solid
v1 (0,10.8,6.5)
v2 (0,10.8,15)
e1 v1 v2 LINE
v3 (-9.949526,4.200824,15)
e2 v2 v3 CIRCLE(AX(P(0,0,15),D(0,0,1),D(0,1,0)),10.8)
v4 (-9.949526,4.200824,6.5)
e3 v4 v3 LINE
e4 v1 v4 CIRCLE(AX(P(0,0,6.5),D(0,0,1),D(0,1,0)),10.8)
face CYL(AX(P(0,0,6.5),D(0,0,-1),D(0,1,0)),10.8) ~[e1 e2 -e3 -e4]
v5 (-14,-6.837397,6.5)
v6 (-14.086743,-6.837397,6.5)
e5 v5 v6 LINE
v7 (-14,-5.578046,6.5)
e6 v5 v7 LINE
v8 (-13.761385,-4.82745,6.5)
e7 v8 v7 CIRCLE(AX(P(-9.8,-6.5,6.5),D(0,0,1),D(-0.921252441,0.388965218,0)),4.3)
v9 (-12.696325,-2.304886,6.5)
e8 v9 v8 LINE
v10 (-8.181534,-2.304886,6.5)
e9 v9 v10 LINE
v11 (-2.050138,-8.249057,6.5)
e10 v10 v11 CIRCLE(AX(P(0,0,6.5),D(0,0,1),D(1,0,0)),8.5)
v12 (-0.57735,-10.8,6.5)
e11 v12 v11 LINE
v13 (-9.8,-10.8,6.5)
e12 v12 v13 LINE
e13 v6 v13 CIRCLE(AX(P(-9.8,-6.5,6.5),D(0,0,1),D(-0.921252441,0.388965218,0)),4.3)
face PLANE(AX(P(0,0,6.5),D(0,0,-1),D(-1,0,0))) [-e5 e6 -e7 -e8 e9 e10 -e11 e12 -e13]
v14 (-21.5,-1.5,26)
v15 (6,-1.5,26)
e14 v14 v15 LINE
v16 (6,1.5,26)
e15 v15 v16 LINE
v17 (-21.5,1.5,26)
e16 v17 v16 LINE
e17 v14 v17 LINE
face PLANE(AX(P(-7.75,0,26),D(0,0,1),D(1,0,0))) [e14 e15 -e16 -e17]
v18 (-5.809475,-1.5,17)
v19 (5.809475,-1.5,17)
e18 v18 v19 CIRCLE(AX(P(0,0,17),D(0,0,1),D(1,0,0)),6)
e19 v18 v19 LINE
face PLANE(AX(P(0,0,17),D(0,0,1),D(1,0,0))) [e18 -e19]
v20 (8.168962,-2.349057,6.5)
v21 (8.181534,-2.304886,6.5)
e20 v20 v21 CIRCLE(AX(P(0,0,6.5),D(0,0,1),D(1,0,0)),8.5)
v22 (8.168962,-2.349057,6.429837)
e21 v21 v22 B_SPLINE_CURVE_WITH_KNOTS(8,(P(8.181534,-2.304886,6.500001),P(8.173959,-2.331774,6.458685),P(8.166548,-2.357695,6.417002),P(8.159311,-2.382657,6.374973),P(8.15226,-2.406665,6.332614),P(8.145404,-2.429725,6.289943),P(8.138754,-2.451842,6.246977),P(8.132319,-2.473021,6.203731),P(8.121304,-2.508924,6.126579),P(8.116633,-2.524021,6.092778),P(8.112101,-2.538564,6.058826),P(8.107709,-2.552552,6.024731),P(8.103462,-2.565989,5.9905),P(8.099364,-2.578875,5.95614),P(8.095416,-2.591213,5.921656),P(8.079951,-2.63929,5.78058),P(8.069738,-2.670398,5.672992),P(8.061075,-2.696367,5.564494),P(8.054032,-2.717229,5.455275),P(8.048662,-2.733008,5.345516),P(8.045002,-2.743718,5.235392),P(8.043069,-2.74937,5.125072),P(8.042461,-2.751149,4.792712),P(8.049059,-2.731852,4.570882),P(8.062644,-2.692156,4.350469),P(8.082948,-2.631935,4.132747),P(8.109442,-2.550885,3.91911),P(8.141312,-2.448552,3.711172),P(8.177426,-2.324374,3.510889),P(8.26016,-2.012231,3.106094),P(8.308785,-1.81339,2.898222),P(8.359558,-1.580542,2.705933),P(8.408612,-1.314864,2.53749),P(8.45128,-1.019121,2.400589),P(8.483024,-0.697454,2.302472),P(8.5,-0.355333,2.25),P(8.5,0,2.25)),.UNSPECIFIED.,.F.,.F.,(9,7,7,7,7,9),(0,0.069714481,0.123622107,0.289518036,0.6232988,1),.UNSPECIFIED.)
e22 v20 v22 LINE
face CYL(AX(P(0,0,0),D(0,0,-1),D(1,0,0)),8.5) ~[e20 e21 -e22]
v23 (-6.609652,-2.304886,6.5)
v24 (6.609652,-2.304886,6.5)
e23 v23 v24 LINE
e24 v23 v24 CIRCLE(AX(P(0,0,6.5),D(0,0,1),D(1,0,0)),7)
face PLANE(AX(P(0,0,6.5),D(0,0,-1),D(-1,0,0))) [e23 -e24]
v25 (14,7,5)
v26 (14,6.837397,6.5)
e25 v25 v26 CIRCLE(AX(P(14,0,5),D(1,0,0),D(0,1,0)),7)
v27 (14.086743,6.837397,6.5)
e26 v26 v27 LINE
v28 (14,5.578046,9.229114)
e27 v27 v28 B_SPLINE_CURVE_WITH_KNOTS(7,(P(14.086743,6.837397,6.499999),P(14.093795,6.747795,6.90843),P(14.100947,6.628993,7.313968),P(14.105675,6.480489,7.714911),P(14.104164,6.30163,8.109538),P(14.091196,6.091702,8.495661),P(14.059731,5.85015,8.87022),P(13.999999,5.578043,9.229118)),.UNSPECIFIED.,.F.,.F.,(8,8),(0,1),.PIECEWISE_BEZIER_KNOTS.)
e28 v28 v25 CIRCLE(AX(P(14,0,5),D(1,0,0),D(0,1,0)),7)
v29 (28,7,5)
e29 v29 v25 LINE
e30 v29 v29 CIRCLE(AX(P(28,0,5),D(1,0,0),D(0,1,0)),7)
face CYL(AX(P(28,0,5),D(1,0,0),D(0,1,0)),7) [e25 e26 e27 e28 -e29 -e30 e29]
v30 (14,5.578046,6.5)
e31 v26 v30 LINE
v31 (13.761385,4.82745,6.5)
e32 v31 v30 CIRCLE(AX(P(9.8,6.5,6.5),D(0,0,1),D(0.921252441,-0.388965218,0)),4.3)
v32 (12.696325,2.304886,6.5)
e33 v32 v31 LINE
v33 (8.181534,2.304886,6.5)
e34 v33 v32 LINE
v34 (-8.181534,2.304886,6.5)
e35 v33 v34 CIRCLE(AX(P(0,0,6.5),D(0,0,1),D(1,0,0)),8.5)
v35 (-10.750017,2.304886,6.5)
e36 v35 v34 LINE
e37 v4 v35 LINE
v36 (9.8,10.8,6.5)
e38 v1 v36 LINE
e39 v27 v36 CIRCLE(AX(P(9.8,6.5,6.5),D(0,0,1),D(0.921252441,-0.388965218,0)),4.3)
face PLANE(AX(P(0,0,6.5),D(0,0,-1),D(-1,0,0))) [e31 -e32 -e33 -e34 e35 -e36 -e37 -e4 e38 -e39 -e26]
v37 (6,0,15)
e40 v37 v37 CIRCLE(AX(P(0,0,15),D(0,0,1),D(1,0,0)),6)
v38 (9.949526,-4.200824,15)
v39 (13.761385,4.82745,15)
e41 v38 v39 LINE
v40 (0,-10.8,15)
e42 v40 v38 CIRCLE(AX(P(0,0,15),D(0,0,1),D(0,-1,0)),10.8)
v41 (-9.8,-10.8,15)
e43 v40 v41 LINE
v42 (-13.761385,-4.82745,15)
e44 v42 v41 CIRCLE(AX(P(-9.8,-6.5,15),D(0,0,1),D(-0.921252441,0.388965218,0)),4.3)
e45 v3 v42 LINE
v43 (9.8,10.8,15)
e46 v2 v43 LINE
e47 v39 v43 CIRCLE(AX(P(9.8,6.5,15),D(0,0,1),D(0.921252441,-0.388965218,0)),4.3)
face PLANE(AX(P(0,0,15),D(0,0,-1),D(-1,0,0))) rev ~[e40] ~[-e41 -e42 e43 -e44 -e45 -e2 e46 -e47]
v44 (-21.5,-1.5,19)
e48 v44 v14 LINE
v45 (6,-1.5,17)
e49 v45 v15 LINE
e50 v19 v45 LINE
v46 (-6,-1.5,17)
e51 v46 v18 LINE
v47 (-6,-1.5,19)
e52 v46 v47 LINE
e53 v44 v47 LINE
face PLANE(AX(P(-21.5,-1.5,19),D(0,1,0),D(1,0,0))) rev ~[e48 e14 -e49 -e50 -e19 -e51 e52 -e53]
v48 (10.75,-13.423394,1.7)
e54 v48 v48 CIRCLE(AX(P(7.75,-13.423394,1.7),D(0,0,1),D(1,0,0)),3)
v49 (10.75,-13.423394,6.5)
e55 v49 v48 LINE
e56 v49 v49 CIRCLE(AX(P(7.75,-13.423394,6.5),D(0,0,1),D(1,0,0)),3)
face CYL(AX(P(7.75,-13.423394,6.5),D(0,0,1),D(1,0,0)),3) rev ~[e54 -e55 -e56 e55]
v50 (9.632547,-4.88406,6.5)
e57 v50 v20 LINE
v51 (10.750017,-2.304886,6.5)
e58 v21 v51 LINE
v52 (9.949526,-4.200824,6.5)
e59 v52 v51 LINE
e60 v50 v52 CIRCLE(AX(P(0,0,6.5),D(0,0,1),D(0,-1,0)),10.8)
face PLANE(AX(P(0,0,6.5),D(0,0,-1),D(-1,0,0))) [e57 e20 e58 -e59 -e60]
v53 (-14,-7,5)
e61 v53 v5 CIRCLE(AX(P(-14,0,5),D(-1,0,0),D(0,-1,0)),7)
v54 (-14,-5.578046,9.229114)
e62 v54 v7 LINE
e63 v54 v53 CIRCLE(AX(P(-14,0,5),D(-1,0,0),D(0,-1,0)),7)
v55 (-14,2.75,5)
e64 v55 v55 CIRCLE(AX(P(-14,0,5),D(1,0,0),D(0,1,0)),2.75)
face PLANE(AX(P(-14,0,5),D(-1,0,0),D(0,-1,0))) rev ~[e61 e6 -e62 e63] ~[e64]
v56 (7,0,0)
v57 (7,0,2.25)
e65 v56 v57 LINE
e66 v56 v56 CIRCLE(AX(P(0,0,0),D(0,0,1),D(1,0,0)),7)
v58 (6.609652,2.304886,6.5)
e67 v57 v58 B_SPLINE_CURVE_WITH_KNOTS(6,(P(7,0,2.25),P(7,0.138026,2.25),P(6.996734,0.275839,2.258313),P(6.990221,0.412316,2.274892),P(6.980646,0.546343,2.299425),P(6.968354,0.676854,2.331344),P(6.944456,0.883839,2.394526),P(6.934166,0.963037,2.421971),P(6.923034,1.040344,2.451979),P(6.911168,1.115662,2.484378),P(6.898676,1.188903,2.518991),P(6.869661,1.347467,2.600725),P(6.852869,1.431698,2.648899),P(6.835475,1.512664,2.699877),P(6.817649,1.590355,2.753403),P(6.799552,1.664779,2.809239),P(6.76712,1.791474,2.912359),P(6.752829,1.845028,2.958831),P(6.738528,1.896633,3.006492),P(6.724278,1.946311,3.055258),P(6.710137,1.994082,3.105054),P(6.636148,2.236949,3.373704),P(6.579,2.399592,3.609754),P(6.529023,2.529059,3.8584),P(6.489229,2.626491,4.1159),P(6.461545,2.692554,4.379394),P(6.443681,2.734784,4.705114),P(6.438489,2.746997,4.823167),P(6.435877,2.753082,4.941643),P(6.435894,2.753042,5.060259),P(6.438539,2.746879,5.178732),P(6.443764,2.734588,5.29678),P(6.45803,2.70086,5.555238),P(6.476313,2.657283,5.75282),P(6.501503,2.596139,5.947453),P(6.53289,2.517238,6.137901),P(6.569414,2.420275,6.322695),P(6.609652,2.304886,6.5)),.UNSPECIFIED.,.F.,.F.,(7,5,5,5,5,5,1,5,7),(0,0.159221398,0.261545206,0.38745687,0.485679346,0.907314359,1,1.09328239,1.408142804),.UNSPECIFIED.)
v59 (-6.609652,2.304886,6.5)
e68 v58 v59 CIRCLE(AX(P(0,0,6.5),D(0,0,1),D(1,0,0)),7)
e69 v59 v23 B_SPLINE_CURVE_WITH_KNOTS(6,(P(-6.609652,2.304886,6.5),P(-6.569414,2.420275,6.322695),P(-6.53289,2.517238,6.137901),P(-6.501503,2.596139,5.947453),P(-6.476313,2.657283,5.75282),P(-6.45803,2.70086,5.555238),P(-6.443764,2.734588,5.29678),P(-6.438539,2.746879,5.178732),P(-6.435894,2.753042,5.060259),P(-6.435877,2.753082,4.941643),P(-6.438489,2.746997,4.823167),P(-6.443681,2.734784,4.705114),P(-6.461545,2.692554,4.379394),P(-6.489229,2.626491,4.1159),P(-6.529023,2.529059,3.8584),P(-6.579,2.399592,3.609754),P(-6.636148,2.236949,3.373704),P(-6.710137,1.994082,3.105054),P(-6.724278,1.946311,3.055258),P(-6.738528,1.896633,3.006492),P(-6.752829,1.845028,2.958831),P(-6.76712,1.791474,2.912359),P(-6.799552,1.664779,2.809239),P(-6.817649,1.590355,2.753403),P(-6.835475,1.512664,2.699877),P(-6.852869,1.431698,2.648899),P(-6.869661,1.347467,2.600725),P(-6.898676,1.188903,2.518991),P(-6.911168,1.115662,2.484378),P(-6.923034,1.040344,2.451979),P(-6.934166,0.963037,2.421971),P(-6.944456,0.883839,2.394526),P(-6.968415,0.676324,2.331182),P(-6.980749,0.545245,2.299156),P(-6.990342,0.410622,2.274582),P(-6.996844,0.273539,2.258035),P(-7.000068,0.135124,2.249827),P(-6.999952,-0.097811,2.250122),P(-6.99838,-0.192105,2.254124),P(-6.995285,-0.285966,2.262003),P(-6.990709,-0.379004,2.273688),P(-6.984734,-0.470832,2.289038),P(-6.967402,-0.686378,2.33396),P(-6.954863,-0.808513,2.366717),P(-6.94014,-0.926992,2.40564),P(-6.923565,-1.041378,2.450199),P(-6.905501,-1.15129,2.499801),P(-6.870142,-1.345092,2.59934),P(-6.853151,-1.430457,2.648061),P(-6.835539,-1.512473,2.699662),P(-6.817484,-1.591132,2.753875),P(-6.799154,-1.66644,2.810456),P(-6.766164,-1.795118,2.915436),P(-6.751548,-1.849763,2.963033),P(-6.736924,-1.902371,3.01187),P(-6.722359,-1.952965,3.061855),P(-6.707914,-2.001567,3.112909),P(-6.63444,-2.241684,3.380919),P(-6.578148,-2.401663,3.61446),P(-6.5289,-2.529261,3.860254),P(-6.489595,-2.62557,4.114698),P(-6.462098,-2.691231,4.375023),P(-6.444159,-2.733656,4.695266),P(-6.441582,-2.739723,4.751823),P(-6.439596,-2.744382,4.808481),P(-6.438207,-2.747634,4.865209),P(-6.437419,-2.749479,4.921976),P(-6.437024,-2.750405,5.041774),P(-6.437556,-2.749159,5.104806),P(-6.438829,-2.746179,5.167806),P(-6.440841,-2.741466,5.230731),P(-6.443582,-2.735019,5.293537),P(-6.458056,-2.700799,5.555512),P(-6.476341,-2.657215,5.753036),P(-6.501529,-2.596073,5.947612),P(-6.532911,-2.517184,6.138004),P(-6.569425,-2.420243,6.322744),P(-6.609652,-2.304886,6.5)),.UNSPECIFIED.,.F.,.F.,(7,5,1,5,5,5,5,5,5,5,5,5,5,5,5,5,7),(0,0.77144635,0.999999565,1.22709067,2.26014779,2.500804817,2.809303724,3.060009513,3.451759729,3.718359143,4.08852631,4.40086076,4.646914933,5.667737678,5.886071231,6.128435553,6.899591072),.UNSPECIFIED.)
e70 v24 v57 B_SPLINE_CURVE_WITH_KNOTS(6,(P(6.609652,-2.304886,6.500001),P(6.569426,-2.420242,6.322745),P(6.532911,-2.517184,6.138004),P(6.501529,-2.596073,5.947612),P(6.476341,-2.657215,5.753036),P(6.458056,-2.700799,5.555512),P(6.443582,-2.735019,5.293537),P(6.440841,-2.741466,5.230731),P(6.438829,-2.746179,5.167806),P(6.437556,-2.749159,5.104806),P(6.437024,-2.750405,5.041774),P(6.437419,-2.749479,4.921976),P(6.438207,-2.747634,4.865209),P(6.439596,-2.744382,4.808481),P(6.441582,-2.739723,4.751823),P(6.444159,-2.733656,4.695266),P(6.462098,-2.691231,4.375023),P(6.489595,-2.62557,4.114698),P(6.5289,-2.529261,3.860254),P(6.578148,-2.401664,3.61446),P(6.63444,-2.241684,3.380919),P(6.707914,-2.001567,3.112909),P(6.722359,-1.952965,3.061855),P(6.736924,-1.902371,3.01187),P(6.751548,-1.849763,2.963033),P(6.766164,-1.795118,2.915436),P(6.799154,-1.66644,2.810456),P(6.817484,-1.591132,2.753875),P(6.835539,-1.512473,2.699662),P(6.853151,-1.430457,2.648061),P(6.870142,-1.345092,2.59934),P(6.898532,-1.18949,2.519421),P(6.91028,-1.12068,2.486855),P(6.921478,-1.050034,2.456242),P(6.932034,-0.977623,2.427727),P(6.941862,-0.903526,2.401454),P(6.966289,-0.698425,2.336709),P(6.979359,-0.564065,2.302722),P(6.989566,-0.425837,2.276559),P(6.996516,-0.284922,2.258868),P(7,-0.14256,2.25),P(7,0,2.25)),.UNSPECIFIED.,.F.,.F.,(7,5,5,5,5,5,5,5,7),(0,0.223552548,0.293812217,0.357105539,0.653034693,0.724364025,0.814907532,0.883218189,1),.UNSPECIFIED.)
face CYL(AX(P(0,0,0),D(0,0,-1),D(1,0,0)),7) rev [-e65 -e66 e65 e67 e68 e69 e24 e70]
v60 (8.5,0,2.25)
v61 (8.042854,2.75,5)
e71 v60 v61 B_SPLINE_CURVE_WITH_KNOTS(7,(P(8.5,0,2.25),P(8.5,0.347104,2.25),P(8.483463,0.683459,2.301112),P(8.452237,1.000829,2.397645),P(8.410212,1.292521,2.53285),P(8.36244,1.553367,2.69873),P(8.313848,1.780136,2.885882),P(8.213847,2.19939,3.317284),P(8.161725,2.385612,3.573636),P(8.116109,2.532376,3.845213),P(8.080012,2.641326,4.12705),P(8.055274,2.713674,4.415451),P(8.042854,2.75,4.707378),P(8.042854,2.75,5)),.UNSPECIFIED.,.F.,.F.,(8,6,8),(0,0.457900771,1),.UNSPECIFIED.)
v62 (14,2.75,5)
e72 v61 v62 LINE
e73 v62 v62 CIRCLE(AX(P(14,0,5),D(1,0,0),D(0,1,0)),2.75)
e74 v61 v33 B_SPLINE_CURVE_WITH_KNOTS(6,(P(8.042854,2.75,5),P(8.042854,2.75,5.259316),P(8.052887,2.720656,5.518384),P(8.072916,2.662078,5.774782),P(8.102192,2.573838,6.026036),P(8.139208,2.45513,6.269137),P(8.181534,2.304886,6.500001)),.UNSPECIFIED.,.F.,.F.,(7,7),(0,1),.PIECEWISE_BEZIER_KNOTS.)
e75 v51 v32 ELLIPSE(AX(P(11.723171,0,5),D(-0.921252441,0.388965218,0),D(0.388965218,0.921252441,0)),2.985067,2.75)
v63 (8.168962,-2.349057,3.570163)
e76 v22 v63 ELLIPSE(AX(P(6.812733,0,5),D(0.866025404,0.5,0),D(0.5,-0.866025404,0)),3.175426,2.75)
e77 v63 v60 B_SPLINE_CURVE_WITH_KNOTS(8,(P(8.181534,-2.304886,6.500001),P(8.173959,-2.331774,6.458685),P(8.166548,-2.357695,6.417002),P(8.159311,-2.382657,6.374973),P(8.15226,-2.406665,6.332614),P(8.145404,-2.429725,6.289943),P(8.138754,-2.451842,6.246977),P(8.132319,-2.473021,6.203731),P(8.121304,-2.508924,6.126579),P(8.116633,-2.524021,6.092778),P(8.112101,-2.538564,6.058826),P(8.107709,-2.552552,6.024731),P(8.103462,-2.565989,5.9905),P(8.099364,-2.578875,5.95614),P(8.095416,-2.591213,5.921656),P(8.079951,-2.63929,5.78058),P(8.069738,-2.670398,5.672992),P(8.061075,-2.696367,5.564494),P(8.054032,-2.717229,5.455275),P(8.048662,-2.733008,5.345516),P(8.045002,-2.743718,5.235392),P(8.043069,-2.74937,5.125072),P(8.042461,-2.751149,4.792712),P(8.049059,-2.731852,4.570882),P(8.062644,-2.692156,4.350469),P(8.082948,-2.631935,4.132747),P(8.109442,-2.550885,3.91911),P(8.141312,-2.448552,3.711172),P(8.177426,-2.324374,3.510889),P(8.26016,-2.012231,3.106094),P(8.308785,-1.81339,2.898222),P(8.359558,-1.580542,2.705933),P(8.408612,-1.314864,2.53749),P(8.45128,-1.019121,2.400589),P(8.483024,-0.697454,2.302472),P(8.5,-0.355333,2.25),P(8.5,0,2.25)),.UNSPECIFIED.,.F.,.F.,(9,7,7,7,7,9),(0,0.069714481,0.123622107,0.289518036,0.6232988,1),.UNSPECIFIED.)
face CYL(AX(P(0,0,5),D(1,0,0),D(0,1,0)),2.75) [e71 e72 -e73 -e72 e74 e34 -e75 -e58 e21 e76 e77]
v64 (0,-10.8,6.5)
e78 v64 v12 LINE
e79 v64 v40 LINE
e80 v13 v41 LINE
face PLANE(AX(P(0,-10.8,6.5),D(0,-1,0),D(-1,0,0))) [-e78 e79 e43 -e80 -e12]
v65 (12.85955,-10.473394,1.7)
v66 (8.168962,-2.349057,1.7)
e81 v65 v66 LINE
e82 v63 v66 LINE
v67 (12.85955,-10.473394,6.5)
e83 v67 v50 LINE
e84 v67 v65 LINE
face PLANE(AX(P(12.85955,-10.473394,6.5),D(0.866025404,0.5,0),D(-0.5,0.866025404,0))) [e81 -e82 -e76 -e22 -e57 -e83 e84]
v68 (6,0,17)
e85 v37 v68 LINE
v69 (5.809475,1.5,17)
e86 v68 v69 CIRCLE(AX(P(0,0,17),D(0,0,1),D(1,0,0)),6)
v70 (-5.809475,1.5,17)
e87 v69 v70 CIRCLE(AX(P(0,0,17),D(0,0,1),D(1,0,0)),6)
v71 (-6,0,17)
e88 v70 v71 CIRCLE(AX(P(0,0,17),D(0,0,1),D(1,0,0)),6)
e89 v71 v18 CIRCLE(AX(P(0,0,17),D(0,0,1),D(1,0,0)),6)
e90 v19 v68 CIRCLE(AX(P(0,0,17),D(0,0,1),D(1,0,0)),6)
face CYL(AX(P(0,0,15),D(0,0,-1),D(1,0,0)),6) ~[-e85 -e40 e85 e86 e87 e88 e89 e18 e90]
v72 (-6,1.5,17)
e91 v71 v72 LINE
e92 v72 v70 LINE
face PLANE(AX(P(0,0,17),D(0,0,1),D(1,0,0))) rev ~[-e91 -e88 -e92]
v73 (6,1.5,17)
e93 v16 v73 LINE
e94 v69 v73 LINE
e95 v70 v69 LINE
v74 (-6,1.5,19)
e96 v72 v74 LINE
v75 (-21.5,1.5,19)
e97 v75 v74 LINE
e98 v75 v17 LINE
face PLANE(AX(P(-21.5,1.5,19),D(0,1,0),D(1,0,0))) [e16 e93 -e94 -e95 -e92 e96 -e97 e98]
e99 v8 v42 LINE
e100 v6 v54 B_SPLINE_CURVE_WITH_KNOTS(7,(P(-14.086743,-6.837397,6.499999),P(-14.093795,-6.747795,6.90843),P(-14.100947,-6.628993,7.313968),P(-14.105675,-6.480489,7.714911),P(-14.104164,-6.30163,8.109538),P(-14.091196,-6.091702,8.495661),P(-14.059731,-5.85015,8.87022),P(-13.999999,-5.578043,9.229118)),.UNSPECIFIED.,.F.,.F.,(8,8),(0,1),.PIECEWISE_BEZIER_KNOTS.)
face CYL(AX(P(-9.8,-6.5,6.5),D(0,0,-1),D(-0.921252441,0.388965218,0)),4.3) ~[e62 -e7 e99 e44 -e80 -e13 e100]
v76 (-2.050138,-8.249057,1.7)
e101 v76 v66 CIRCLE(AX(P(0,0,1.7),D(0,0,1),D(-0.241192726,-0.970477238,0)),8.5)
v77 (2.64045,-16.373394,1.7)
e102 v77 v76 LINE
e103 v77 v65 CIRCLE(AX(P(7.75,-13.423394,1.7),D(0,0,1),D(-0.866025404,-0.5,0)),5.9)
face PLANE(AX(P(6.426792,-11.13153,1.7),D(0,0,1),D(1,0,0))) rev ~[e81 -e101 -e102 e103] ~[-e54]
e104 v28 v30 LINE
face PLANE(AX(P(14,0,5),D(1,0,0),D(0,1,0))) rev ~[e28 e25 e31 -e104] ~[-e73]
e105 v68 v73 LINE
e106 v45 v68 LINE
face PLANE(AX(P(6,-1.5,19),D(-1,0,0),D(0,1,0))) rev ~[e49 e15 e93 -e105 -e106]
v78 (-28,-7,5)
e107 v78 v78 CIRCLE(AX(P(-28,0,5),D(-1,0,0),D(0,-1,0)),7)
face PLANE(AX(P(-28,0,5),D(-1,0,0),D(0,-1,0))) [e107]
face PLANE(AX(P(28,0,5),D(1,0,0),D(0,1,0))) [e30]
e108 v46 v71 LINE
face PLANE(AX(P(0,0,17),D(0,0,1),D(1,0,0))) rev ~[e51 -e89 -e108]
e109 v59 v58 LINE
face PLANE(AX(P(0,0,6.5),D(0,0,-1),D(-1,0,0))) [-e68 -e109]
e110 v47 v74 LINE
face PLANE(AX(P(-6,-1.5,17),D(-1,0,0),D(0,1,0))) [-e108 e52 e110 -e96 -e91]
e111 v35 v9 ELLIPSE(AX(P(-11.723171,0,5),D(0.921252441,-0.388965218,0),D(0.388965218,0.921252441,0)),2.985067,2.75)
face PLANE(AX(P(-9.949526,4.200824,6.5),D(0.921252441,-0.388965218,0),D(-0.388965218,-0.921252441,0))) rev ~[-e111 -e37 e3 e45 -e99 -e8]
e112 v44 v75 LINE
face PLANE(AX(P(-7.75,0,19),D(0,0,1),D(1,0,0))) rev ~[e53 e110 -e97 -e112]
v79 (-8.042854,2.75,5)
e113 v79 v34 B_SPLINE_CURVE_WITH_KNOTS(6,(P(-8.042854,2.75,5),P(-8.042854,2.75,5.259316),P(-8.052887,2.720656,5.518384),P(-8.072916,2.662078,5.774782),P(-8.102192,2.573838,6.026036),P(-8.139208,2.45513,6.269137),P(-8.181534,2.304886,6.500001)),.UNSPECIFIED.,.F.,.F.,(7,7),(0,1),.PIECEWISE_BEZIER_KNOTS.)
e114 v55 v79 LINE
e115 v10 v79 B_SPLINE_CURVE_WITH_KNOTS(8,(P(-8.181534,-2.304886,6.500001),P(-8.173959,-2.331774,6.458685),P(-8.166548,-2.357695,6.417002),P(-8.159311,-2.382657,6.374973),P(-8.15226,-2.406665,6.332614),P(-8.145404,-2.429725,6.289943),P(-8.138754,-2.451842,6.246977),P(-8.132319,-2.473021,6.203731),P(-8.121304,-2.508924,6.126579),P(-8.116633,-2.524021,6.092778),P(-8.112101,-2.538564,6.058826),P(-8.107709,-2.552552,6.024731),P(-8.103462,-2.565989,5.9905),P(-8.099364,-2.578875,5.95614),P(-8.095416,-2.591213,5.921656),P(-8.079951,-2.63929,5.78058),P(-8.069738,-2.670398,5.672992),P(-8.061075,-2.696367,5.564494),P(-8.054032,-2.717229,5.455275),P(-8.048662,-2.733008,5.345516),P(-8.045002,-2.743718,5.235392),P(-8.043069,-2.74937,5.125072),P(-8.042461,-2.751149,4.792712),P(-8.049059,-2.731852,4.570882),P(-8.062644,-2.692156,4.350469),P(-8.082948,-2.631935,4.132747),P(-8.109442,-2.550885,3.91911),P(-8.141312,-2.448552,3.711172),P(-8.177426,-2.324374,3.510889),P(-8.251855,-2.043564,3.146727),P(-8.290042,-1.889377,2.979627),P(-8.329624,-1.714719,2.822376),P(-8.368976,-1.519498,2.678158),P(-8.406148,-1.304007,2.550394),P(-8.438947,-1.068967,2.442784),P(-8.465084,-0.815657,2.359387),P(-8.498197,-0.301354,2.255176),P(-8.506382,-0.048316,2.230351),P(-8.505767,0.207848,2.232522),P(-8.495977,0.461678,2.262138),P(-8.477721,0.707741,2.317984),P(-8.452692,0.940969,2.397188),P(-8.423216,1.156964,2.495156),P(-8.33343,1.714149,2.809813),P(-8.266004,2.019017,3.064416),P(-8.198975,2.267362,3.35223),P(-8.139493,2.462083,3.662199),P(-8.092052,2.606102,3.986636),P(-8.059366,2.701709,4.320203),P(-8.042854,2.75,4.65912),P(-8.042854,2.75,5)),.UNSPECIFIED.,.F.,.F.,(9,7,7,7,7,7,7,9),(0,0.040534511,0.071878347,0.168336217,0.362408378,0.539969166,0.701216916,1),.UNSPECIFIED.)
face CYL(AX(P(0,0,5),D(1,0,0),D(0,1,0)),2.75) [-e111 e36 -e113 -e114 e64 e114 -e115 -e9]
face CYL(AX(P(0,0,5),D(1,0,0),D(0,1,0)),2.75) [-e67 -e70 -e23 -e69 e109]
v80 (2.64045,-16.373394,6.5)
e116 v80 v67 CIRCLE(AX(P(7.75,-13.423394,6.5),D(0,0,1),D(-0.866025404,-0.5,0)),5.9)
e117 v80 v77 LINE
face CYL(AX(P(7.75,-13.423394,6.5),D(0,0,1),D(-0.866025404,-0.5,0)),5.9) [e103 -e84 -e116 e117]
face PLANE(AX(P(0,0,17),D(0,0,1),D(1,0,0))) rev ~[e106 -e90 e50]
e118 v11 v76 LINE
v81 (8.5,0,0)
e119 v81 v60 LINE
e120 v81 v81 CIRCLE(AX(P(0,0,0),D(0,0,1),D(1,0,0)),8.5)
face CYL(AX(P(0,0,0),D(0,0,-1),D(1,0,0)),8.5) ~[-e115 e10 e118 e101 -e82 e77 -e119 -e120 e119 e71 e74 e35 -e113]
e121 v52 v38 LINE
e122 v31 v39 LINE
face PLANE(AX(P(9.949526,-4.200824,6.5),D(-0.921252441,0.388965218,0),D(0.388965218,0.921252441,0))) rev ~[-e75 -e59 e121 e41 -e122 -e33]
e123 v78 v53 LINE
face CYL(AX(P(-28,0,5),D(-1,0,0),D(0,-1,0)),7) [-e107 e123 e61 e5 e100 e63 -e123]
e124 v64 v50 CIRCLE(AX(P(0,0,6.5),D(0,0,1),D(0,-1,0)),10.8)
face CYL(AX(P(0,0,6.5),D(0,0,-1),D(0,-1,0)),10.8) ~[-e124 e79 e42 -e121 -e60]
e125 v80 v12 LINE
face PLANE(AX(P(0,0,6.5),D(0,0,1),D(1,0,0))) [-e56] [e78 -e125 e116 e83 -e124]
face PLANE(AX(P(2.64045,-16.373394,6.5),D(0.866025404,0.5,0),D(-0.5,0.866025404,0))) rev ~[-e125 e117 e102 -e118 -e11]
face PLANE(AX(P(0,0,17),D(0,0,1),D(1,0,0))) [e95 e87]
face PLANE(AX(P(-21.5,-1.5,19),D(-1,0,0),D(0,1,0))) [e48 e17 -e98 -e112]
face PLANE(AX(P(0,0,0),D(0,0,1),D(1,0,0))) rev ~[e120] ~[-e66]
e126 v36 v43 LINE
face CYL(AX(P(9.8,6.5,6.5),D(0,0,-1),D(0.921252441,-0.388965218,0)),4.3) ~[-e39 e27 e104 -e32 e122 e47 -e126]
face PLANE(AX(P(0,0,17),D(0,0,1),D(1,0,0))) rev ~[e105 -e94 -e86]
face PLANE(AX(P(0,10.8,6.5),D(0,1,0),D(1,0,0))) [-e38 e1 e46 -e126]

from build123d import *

# Parameters (mm, degrees)
SKETCH_R     = 8.5
SKETCH_R_2   = 7
PAD_DEPTH    = 6.5
SKETCH001_R  = 3
PAD001_DEPTH = 4.8
PAD002_DEPTH = 8.5
SKETCH003_R  = 6
PAD003_DEPTH = 2
SKETCH004_W  = 12
SKETCH004_H  = 3
PAD004_DEPTH = 2
SKETCH005_W  = 27.5
SKETCH005_H  = 3
PAD005_DEPTH = 7
SKETCH006_R  = 2.75
PAD006_DEPTH = 28
SKETCH007_R  = 7
PAD007_DEPTH = 14
SKETCH008_R  = 7
PAD008_DEPTH = 14


with BuildPart() as part:
    # Sketch → Pad (new body)
    with BuildSketch(Plane.XY):
        Circle(SKETCH_R)
        Circle(SKETCH_R_2, mode=Mode.SUBTRACT)
    extrude(amount=PAD_DEPTH)

    # Sketch001 (on Face4 of Pad) → Pad001 (join)
    with BuildSketch(Plane.XY.offset(6.5)):
        with BuildLine():
            ThreePointArc((2.6404501177, -16.3733937587), (10.7, -18.532943641), (12.8595498823, -10.4733937587))
            Line((12.8595498823, -10.4733937587), (8.1689615905, -2.3490565198))
            ThreePointArc((-2.0501381742, -8.2490565198), (4.25, -7.3612159322), (8.1689615905, -2.3490565198))
            Line((2.6404501177, -16.3733937587), (-2.0501381742, -8.2490565198))
        make_face()
        with Locations((7.75, -13.4233937587)):
            Circle(SKETCH001_R, mode=Mode.SUBTRACT)
    extrude(amount=-PAD001_DEPTH)

    # Sketch002 (on Face3 of Pad001) → Pad002 (join)
    with BuildSketch(Plane.XY.offset(6.5)):
        with BuildLine():
            Line((0, 10.8), (9.8, 10.8))
            ThreePointArc((13.7613854943, 4.8274495625), (13.3834317966, 8.8767659875), (9.8, 10.8))
            Line((9.9495263577, -4.2008243546), (13.7613854943, 4.8274495625))
            ThreePointArc((0, -10.8), (5.9695517826, -9.000247303), (9.9495263577, -4.2008243546))
            Line((0, -10.8), (-9.8000000001, -10.8))
            ThreePointArc((-13.7613854943, -4.8274495625), (-13.3834317966, -8.8767659875), (-9.8000000001, -10.8))
            Line((-9.9495263577, 4.2008243546), (-13.7613854943, -4.8274495625))
            ThreePointArc((7e-10, 10.8), (-5.9695517823, 9.0002473032), (-9.9495263577, 4.2008243546))
        make_face()
    extrude(amount=PAD002_DEPTH)

    # Sketch003 (on Face20 of Pad002) → Pad003 (join)
    with BuildSketch(Plane.XY.offset(15)):
        Circle(SKETCH003_R)
    extrude(amount=PAD003_DEPTH)

    # Sketch004 (on Face22 of Pad003) → Pad004 (join)
    with BuildSketch(Plane.XY.offset(17)):
        Rectangle(SKETCH004_W, SKETCH004_H)
    extrude(amount=PAD004_DEPTH)

    # Sketch005 (on Face32 of Pad004) → Pad005 (join)
    with BuildSketch(Plane.XY.offset(19)):
        with Locations((-7.75, 0)):
            Rectangle(SKETCH005_W, SKETCH005_H)
    extrude(amount=PAD005_DEPTH)

    # Sketch006 → Pad006 (join, symmetric)
    with BuildSketch(Plane.YZ):
        with Locations((0, 5)):
            Circle(SKETCH006_R)
    extrude(amount=PAD006_DEPTH, both=True)

    # Sketch007 (on Face13 of Pad006) → Pad007 (join)
    with BuildSketch(Plane.YZ.offset(28)):
        with Locations((0, 5)):
            Circle(SKETCH007_R)
    extrude(amount=-PAD007_DEPTH)

    # Sketch008 (on Face20 of Pad007) → Pad008 (join)
    with BuildSketch(Plane(origin=(-28, 0, 0), x_dir=(0, -1, 0), z_dir=(-1, 0, 0))):
        with Locations((0, 5)):
            Circle(SKETCH008_R)
    extrude(amount=-PAD008_DEPTH)


solid = part.part
